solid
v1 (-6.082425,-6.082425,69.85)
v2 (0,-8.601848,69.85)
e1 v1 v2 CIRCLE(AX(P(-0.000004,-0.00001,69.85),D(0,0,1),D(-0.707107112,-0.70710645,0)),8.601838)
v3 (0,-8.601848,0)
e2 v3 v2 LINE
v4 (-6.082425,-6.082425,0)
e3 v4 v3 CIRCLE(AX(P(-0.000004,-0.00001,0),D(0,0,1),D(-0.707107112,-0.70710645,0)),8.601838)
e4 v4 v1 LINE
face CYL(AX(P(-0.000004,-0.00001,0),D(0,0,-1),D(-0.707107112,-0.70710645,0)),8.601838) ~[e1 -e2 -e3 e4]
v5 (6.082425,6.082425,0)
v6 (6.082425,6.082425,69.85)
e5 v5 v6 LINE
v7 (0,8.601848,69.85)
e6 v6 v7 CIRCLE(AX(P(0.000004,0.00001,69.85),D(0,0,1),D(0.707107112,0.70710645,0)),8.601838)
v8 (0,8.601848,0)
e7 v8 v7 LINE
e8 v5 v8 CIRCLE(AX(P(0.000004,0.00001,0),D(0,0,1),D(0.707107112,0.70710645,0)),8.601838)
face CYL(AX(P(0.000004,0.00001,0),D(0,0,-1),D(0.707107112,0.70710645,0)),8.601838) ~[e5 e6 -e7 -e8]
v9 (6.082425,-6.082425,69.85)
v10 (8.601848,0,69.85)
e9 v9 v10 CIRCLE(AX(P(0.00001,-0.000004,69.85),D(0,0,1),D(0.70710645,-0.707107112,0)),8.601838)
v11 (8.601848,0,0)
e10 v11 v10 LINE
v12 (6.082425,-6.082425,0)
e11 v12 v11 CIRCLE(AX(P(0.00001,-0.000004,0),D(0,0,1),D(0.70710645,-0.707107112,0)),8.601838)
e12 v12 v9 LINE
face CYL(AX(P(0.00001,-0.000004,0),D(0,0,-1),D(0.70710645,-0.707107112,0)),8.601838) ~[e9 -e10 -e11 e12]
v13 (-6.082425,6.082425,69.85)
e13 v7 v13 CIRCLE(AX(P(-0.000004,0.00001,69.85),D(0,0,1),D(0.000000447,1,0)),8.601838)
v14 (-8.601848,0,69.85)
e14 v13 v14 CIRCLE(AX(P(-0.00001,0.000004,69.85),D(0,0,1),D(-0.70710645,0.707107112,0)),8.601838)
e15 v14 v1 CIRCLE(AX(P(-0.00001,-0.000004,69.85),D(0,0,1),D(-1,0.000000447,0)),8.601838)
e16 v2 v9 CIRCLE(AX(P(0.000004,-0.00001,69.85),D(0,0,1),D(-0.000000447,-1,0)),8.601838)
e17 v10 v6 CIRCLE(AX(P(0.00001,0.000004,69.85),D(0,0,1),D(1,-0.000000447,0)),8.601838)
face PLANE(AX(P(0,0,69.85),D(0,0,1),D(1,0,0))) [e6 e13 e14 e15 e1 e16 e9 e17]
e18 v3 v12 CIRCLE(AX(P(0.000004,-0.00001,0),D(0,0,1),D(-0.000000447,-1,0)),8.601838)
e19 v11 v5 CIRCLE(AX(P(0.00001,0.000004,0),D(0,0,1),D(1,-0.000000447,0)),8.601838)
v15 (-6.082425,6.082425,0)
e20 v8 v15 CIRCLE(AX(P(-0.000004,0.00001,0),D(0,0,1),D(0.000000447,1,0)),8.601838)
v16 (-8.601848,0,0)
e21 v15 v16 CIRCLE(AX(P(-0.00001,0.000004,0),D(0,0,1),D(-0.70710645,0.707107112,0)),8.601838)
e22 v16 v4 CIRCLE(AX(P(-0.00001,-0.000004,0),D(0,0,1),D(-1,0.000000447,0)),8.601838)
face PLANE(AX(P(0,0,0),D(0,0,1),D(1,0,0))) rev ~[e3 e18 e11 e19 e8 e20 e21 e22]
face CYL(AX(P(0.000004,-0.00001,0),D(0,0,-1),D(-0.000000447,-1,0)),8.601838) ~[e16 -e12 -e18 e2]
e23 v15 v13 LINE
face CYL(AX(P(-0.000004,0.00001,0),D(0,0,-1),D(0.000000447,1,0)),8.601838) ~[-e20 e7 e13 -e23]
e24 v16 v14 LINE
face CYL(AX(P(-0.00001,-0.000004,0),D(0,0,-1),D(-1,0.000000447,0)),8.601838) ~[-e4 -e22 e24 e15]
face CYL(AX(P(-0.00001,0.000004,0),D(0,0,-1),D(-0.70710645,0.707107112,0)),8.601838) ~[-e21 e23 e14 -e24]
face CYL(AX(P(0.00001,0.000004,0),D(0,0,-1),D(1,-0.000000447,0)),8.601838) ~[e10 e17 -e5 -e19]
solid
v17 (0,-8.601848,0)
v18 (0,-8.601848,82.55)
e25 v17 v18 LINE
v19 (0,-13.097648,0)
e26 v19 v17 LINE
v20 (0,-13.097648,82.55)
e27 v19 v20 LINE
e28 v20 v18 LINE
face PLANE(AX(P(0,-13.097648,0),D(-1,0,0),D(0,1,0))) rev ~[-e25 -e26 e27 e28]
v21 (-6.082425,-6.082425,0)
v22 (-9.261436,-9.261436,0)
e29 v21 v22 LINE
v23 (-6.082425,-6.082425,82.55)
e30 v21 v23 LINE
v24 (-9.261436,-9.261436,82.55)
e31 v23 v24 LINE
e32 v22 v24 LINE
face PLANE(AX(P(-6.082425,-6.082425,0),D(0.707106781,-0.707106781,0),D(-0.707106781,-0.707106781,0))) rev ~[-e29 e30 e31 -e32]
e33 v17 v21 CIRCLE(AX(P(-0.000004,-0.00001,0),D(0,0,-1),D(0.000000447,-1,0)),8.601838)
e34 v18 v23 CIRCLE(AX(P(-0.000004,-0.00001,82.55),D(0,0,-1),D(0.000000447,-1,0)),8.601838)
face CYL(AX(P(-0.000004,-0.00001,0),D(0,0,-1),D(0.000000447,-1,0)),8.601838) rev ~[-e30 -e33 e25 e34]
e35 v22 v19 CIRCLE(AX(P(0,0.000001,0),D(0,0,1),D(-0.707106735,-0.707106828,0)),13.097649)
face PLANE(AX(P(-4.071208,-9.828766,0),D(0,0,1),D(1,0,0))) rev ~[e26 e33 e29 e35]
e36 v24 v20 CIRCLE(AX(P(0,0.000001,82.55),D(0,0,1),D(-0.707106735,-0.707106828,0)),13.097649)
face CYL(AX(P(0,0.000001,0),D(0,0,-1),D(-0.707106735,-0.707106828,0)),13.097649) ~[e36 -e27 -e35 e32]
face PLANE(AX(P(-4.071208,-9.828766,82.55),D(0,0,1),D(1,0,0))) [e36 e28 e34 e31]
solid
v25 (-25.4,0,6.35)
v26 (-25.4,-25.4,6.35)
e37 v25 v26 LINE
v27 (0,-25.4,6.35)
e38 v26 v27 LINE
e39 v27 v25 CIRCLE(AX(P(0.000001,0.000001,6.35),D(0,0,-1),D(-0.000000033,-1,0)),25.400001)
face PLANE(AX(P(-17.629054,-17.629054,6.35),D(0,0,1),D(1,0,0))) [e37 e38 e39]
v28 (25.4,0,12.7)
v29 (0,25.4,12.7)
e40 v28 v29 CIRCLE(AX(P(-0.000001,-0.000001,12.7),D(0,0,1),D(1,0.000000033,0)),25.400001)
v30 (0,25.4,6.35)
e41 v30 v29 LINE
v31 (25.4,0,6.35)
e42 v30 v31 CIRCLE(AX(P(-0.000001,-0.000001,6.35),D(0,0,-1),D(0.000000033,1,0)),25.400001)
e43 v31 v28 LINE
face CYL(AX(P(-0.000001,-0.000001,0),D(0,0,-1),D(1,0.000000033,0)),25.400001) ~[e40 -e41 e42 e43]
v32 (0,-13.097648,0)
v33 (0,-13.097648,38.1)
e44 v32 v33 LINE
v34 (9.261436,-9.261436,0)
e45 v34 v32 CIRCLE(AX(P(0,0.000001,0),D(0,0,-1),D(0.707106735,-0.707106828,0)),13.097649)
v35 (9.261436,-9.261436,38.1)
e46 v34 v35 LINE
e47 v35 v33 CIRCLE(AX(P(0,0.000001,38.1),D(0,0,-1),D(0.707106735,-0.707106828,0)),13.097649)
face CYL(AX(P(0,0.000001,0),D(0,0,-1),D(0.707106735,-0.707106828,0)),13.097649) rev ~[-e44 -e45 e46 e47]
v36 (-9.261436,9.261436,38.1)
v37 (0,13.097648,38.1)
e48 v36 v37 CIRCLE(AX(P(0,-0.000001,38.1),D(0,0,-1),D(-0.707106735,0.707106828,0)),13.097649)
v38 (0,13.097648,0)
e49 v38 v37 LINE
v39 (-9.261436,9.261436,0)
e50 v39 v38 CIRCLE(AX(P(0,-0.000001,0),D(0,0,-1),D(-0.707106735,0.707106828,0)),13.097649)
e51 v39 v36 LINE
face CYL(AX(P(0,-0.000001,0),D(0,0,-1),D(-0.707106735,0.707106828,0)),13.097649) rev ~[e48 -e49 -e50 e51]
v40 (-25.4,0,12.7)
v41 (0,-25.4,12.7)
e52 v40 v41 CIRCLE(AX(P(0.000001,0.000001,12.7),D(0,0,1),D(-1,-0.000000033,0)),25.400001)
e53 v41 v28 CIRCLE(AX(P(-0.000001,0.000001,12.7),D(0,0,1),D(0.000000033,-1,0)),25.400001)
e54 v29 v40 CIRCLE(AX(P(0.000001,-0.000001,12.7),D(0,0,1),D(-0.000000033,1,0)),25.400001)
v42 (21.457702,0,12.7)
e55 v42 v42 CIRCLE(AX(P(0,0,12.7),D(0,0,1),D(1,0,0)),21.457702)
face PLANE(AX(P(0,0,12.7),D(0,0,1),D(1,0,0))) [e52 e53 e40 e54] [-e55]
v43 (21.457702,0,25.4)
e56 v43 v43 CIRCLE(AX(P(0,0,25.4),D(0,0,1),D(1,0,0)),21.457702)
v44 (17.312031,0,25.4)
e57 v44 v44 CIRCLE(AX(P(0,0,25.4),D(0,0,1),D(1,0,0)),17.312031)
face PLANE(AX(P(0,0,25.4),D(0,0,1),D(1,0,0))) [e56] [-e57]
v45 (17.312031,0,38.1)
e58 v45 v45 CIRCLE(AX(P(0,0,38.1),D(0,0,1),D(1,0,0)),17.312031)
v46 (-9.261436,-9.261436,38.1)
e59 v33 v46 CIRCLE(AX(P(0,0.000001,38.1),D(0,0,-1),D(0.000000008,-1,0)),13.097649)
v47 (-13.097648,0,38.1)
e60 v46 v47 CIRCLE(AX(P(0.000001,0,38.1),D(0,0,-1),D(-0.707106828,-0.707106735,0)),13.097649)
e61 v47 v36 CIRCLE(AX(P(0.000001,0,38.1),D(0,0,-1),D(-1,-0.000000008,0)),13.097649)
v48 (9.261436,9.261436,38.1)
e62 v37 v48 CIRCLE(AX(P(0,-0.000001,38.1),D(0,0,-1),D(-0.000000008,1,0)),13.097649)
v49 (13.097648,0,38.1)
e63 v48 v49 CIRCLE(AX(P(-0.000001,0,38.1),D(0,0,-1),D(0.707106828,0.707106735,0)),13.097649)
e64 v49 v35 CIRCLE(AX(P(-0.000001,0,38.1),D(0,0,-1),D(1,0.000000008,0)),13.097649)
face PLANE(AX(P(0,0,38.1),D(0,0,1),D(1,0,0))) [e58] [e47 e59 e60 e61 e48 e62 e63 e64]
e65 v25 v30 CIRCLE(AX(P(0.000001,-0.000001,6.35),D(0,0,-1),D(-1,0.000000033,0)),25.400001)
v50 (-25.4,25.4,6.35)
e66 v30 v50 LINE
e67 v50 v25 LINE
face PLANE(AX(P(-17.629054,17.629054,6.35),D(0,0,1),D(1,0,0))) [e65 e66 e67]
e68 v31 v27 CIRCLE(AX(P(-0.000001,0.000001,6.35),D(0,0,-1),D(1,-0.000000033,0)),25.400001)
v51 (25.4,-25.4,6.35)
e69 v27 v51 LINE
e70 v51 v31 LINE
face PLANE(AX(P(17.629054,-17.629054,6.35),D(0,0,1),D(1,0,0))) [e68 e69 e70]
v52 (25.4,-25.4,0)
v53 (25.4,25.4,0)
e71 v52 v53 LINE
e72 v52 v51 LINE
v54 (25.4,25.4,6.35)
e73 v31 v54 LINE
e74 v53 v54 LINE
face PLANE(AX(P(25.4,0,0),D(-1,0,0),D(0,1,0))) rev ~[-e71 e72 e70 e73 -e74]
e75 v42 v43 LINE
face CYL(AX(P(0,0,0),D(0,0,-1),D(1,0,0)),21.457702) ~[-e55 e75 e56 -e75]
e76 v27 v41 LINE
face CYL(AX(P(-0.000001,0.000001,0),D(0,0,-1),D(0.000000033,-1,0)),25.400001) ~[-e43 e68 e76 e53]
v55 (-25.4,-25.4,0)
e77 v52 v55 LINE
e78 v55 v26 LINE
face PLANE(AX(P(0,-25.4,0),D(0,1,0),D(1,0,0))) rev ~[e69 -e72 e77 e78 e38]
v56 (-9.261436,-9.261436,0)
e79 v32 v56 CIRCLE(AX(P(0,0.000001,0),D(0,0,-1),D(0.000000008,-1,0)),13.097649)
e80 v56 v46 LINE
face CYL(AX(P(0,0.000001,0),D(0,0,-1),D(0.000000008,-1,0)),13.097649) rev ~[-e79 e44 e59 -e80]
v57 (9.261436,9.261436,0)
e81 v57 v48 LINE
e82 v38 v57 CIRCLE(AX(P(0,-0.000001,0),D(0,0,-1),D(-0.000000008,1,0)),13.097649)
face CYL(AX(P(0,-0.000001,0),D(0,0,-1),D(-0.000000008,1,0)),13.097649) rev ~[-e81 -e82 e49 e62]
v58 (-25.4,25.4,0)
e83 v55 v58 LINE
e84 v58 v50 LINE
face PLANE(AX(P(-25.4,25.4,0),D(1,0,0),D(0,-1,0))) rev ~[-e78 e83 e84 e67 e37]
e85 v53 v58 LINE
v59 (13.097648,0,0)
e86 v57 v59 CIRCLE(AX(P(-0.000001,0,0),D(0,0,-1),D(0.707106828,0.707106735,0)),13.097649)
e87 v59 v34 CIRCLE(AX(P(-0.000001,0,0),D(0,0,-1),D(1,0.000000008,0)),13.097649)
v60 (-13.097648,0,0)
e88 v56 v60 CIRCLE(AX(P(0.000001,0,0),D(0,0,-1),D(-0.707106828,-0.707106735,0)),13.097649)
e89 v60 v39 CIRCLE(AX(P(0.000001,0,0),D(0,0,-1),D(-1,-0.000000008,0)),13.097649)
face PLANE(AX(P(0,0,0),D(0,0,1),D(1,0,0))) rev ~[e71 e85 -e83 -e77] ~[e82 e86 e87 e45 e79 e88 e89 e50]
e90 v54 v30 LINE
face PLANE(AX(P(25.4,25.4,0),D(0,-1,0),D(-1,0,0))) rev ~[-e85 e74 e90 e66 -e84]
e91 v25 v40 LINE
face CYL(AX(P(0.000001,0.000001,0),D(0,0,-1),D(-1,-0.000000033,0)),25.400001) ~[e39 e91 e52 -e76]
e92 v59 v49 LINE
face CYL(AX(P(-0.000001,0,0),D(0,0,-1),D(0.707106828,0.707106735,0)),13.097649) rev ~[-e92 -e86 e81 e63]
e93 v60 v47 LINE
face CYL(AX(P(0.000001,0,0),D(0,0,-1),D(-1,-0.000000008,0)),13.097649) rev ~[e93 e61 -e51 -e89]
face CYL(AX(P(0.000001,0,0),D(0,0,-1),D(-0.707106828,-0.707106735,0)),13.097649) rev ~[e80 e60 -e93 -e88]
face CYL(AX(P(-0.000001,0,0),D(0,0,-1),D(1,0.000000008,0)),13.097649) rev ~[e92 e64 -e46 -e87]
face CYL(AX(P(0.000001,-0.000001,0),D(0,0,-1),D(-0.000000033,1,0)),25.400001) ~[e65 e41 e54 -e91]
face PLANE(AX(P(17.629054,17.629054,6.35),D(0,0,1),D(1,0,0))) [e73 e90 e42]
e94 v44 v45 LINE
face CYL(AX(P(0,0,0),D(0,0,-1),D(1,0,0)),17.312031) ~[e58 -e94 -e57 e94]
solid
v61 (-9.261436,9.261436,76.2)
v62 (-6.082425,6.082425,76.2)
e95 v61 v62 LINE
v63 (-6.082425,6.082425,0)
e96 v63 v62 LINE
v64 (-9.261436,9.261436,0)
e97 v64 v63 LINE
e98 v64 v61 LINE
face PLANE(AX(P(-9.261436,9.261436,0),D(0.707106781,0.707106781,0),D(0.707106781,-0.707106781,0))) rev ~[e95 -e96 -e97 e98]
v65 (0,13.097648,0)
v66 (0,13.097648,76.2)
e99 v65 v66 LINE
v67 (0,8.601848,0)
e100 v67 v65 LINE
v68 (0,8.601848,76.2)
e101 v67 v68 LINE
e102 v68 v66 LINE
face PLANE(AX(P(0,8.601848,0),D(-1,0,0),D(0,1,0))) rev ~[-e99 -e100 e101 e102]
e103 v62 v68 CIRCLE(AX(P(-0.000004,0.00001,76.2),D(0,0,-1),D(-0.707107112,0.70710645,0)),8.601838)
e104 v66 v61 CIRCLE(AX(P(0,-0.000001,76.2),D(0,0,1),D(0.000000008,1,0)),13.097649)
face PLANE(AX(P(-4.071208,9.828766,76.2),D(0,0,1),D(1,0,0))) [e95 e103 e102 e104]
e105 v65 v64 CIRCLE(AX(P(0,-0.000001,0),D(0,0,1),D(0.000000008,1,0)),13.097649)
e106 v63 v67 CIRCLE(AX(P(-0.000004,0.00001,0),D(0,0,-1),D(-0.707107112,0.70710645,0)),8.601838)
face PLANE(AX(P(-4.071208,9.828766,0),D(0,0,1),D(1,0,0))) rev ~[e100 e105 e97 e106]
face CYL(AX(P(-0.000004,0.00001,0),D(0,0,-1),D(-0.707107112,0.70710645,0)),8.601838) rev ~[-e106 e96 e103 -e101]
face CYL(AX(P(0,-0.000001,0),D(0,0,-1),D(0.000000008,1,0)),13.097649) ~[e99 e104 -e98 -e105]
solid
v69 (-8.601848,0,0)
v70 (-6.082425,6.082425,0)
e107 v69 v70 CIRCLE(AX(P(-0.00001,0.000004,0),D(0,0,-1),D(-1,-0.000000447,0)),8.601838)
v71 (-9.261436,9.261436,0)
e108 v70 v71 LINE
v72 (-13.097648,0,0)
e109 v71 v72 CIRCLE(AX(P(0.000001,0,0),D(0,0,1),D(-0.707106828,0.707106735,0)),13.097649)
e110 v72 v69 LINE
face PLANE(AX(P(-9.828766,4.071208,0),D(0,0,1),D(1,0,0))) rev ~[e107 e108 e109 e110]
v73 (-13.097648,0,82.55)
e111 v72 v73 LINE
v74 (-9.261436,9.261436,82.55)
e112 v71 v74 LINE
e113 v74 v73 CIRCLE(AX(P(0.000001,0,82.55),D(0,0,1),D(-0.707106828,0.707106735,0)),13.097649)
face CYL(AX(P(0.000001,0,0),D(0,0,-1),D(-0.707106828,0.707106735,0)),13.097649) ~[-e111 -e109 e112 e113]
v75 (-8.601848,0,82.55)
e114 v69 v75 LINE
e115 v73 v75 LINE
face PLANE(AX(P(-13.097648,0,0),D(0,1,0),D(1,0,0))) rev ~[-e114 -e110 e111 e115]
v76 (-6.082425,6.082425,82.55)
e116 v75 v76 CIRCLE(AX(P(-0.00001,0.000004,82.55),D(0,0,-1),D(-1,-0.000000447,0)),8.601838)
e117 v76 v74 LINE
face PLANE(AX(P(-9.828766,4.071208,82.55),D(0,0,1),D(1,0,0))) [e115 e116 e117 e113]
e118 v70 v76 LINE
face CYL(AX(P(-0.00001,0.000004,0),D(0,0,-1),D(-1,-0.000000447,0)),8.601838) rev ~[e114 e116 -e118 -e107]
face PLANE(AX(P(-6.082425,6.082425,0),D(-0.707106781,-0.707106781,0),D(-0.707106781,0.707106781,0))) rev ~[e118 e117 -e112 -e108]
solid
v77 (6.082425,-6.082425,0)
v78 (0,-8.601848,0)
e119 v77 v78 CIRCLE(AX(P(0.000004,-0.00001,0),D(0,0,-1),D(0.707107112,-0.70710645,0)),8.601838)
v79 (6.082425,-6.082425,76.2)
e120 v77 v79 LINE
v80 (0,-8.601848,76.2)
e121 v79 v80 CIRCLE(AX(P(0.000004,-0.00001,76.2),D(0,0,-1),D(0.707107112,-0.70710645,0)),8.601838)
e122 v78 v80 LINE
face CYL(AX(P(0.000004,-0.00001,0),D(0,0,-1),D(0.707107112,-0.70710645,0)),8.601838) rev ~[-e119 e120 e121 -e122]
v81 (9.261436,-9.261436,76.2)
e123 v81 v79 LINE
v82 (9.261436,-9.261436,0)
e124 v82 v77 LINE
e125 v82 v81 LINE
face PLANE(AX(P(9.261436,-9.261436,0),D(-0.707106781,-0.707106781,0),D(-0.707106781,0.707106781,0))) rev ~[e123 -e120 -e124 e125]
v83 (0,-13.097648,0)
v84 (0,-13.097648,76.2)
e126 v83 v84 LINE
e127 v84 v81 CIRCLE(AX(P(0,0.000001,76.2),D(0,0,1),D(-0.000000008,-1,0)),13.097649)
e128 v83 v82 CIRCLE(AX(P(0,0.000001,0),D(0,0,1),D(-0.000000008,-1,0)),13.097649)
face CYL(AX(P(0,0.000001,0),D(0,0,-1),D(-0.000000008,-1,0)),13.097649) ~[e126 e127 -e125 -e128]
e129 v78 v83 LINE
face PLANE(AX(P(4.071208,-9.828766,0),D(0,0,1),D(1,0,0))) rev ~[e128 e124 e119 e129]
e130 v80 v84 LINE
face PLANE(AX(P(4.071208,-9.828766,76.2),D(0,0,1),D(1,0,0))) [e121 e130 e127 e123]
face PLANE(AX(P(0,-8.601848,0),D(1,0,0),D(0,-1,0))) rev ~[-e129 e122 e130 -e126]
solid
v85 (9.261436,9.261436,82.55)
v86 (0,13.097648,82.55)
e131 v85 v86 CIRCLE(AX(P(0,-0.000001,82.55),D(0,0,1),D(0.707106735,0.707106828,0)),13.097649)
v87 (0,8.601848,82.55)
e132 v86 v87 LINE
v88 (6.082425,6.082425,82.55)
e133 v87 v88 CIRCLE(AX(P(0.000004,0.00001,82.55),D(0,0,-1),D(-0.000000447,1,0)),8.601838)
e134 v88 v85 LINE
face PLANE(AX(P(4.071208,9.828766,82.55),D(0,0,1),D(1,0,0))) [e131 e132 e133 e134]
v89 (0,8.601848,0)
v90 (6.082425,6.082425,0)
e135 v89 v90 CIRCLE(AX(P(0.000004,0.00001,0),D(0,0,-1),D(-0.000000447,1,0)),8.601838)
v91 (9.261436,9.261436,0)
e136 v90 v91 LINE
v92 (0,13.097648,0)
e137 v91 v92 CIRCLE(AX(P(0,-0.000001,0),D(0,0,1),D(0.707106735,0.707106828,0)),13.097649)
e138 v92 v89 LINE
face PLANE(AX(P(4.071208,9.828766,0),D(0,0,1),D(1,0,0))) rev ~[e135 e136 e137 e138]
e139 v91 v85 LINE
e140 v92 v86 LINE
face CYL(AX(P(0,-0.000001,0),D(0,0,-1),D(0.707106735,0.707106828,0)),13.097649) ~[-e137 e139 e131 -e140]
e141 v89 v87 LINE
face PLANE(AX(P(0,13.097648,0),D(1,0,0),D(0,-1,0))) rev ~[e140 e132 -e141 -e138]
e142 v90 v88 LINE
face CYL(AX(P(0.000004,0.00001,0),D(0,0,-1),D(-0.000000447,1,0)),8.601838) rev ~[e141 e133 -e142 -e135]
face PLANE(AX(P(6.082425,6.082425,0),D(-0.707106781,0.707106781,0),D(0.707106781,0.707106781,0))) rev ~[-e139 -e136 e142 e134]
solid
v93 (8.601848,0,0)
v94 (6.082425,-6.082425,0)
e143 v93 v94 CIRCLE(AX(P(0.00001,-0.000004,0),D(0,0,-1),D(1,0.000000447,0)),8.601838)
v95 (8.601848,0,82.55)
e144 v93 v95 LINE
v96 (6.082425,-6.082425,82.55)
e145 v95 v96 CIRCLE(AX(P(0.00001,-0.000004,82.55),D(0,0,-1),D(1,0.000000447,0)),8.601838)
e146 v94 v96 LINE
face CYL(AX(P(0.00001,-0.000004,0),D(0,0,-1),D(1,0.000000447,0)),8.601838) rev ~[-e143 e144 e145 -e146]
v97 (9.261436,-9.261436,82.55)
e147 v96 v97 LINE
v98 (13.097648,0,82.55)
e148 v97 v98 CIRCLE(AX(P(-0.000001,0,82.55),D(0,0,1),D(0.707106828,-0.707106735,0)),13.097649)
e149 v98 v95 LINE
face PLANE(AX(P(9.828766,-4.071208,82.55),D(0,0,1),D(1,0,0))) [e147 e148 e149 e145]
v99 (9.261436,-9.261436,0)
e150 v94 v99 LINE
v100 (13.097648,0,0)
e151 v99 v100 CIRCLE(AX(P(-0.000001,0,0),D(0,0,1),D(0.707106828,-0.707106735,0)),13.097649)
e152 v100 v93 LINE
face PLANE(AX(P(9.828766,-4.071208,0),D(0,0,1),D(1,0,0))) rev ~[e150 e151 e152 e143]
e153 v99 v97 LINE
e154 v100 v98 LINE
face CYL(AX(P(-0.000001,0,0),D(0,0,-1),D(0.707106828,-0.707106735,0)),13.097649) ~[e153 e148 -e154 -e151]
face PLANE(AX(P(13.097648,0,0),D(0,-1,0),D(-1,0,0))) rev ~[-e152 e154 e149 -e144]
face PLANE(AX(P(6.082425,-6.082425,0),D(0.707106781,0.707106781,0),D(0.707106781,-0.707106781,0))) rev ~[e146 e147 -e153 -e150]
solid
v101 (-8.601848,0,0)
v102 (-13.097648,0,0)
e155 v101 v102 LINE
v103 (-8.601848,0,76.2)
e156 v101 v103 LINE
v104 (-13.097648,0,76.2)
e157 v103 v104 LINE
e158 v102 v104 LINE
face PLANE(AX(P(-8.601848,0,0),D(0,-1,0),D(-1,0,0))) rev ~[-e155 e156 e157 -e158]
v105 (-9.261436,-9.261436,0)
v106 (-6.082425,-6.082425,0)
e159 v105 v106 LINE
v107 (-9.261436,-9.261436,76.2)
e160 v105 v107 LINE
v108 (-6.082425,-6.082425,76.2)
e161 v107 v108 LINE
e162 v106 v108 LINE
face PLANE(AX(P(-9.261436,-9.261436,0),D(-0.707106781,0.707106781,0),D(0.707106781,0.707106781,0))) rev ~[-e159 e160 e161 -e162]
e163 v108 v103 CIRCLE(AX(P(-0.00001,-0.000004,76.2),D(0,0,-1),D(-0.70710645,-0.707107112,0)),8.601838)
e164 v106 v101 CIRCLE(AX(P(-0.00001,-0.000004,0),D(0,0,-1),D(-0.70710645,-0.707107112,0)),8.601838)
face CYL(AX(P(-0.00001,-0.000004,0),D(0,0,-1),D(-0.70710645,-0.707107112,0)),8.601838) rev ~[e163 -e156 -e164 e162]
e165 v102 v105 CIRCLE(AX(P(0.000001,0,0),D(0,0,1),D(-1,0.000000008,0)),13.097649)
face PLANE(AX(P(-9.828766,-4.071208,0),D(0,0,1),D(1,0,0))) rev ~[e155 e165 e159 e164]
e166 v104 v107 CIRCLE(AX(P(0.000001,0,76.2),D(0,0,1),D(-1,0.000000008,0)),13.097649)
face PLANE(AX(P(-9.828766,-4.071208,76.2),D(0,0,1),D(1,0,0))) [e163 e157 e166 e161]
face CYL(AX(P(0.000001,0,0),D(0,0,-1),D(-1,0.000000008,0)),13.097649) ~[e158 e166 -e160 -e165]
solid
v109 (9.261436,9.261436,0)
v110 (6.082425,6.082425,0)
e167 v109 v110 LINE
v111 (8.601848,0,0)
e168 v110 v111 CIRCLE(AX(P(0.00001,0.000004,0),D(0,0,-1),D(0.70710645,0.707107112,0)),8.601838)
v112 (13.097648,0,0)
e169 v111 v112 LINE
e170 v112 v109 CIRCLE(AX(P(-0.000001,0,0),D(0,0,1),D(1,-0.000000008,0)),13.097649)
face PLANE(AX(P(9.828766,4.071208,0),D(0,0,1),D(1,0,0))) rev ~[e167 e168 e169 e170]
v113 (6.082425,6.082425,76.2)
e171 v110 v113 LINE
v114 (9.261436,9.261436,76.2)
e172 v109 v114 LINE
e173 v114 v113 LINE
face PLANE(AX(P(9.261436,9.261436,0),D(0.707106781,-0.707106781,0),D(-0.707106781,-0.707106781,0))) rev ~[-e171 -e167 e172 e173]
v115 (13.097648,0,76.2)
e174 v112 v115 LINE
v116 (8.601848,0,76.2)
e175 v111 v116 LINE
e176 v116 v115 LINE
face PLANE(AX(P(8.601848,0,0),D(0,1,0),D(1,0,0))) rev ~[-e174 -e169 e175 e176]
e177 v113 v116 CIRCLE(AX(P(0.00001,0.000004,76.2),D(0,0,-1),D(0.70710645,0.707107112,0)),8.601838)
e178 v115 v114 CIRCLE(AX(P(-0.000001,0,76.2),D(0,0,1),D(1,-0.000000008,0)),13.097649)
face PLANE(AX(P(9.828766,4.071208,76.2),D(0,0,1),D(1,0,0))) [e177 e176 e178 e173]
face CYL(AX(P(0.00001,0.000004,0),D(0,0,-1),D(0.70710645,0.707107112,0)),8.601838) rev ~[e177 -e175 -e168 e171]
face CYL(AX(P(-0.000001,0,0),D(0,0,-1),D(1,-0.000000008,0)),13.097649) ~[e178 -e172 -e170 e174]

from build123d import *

# Parameters (mm, degrees)
F1_DEPTH = 6.35
F0_R     = 21.457702
F2_DEPTH = 12.7
F0_R_2   = 17.312031
F3_DEPTH = 25.4
F4_DEPTH = 38.1
F5_DEPTH = 69.85
F6_DEPTH = 76.2
F7_DEPTH = 82.55


with BuildPart() as f1:
    # F0 (on Top) → F1 (new body)
    with BuildSketch(Plane.XY):
        with BuildLine():
            ThreePointArc((0, -25.4), (-17.960512, -17.960512), (-25.4, 0))
            Line((-25.4, 0), (-25.4, -25.4))
            Line((-25.4, -25.4), (0, -25.4))
        make_face()
        with BuildLine():
            ThreePointArc((-25.4, 0), (-17.960512, 17.960512), (0, 25.4))
            Line((0, 25.4), (-25.4, 25.4))
            Line((-25.4, 25.4), (-25.4, 0))
        make_face()
        with BuildLine():
            Line((25.4, 0), (25.4, 25.4))
            Line((25.4, 25.4), (0, 25.4))
            ThreePointArc((0, 25.4), (17.960512, 17.960512), (25.4, 0))
        make_face()
        with BuildLine():
            Line((25.4, -25.4), (25.4, 0))
            ThreePointArc((25.4, 0), (17.960512, -17.960512), (0, -25.4))
            Line((0, -25.4), (25.4, -25.4))
        make_face()
    extrude(amount=F1_DEPTH)

    # F0 (on Top) → F2 (join)
    with BuildSketch(Plane.XY):
        with BuildLine():
            ThreePointArc((25.4, 0), (17.960512, 17.960512), (0, 25.4))
            ThreePointArc((0, 25.4), (-17.960512, 17.960512), (-25.4, 0))
            ThreePointArc((-25.4, 0), (-17.960512, -17.960512), (0, -25.4))
            ThreePointArc((0, -25.4), (17.960512, -17.960512), (25.4, 0))
        make_face()
        Circle(F0_R, mode=Mode.SUBTRACT)
    extrude(amount=F2_DEPTH)

    # F0 (on Top) → F3 (join)
    with BuildSketch(Plane.XY):
        Circle(F0_R)
        Circle(F0_R_2, mode=Mode.SUBTRACT)
    extrude(amount=F3_DEPTH)

    # F0 (on Top) → F4 (join)
    with BuildSketch(Plane.XY):
        Circle(F0_R_2)
        with BuildLine():
            ThreePointArc((9.261436, 9.261436), (12.100649, 5.012253), (13.097648, 0))
            ThreePointArc((13.097648, 0), (12.100649, -5.012253), (9.261436, -9.261436))
            ThreePointArc((9.261436, -9.261436), (5.012253, -12.100649), (0, -13.097648))
            ThreePointArc((0, -13.097648), (-5.012253, -12.100649), (-9.261436, -9.261436))
            ThreePointArc((-9.261436, -9.261436), (-12.100649, -5.012253), (-13.097648, 0))
            ThreePointArc((-13.097648, 0), (-12.100649, 5.012253), (-9.261436, 9.261436))
            ThreePointArc((-9.261436, 9.261436), (-5.012253, 12.100649), (0, 13.097648))
            ThreePointArc((0, 13.097648), (5.012253, 12.100649), (9.261436, 9.261436))
        make_face(mode=Mode.SUBTRACT)
    extrude(amount=F4_DEPTH)


with BuildPart() as f5:
    # F0 (on Top) → F5 (new body)
    with BuildSketch(Plane.XY):
        with BuildLine():
            ThreePointArc((6.082425, -6.082425), (7.947072, -3.291785), (8.601848, 0))
            ThreePointArc((8.601848, 0), (7.947072, 3.291785), (6.082425, 6.082425))
            ThreePointArc((6.082425, 6.082425), (3.291785, 7.947072), (0, 8.601848))
            ThreePointArc((0, 8.601848), (-3.291785, 7.947072), (-6.082425, 6.082425))
            ThreePointArc((-6.082425, 6.082425), (-7.947072, 3.291785), (-8.601848, 0))
            ThreePointArc((-8.601848, 0), (-7.947072, -3.291785), (-6.082425, -6.082425))
            ThreePointArc((-6.082425, -6.082425), (-3.291785, -7.947072), (0, -8.601848))
            ThreePointArc((0, -8.601848), (3.291785, -7.947072), (6.082425, -6.082425))
        make_face()
    extrude(amount=F5_DEPTH)


with BuildPart() as f6:
    # F0 (on Top) → F6 (new body)
    with BuildSketch(Plane.XY):
        with BuildLine():
            Line((0, 8.601848), (0, 13.097648))
            ThreePointArc((0, 13.097648), (-5.012253, 12.100649), (-9.261436, 9.261436))
            Line((-9.261436, 9.261436), (-6.082425, 6.082425))
            ThreePointArc((-6.082425, 6.082425), (-3.291785, 7.947072), (0, 8.601848))
        make_face()
        with BuildLine():
            Line((8.601848, 0), (13.097648, 0))
            ThreePointArc((13.097648, 0), (12.100649, 5.012253), (9.261436, 9.261436))
            Line((9.261436, 9.261436), (6.082425, 6.082425))
            ThreePointArc((6.082425, 6.082425), (7.947072, 3.291785), (8.601848, 0))
        make_face()
        with BuildLine():
            ThreePointArc((0, -13.097648), (5.012253, -12.100649), (9.261436, -9.261436))
            Line((9.261436, -9.261436), (6.082425, -6.082425))
            ThreePointArc((6.082425, -6.082425), (3.291785, -7.947072), (0, -8.601848))
            Line((0, -8.601848), (0, -13.097648))
        make_face()
        with BuildLine():
            ThreePointArc((-13.097648, 0), (-12.100649, -5.012253), (-9.261436, -9.261436))
            Line((-9.261436, -9.261436), (-6.082425, -6.082425))
            ThreePointArc((-6.082425, -6.082425), (-7.947072, -3.291785), (-8.601848, 0))
            Line((-8.601848, 0), (-13.097648, 0))
        make_face()
    extrude(amount=F6_DEPTH)


with BuildPart() as f7:
    # F0 (on Top) → F7 (new body)
    with BuildSketch(Plane.XY):
        with BuildLine():
            Line((-6.082425, 6.082425), (-9.261436, 9.261436))
            ThreePointArc((-9.261436, 9.261436), (-12.100649, 5.012253), (-13.097648, 0))
            Line((-13.097648, 0), (-8.601848, 0))
            ThreePointArc((-8.601848, 0), (-7.947072, 3.291785), (-6.082425, 6.082425))
        make_face()
        with BuildLine():
            Line((6.082425, 6.082425), (9.261436, 9.261436))
            ThreePointArc((9.261436, 9.261436), (5.012253, 12.100649), (0, 13.097648))
            Line((0, 13.097648), (0, 8.601848))
            ThreePointArc((0, 8.601848), (3.291785, 7.947072), (6.082425, 6.082425))
        make_face()
        with BuildLine():
            ThreePointArc((9.261436, -9.261436), (12.100649, -5.012253), (13.097648, 0))
            Line((13.097648, 0), (8.601848, 0))
            ThreePointArc((8.601848, 0), (7.947072, -3.291785), (6.082425, -6.082425))
            Line((6.082425, -6.082425), (9.261436, -9.261436))
        make_face()
        with BuildLine():
            ThreePointArc((-9.261436, -9.261436), (-5.012253, -12.100649), (0, -13.097648))
            Line((0, -13.097648), (0, -8.601848))
            ThreePointArc((0, -8.601848), (-3.291785, -7.947072), (-6.082425, -6.082425))
            Line((-6.082425, -6.082425), (-9.261436, -9.261436))
        make_face()
    extrude(amount=F7_DEPTH)


solid = Compound([f1.part, f5.part, f6.part, f7.part])
